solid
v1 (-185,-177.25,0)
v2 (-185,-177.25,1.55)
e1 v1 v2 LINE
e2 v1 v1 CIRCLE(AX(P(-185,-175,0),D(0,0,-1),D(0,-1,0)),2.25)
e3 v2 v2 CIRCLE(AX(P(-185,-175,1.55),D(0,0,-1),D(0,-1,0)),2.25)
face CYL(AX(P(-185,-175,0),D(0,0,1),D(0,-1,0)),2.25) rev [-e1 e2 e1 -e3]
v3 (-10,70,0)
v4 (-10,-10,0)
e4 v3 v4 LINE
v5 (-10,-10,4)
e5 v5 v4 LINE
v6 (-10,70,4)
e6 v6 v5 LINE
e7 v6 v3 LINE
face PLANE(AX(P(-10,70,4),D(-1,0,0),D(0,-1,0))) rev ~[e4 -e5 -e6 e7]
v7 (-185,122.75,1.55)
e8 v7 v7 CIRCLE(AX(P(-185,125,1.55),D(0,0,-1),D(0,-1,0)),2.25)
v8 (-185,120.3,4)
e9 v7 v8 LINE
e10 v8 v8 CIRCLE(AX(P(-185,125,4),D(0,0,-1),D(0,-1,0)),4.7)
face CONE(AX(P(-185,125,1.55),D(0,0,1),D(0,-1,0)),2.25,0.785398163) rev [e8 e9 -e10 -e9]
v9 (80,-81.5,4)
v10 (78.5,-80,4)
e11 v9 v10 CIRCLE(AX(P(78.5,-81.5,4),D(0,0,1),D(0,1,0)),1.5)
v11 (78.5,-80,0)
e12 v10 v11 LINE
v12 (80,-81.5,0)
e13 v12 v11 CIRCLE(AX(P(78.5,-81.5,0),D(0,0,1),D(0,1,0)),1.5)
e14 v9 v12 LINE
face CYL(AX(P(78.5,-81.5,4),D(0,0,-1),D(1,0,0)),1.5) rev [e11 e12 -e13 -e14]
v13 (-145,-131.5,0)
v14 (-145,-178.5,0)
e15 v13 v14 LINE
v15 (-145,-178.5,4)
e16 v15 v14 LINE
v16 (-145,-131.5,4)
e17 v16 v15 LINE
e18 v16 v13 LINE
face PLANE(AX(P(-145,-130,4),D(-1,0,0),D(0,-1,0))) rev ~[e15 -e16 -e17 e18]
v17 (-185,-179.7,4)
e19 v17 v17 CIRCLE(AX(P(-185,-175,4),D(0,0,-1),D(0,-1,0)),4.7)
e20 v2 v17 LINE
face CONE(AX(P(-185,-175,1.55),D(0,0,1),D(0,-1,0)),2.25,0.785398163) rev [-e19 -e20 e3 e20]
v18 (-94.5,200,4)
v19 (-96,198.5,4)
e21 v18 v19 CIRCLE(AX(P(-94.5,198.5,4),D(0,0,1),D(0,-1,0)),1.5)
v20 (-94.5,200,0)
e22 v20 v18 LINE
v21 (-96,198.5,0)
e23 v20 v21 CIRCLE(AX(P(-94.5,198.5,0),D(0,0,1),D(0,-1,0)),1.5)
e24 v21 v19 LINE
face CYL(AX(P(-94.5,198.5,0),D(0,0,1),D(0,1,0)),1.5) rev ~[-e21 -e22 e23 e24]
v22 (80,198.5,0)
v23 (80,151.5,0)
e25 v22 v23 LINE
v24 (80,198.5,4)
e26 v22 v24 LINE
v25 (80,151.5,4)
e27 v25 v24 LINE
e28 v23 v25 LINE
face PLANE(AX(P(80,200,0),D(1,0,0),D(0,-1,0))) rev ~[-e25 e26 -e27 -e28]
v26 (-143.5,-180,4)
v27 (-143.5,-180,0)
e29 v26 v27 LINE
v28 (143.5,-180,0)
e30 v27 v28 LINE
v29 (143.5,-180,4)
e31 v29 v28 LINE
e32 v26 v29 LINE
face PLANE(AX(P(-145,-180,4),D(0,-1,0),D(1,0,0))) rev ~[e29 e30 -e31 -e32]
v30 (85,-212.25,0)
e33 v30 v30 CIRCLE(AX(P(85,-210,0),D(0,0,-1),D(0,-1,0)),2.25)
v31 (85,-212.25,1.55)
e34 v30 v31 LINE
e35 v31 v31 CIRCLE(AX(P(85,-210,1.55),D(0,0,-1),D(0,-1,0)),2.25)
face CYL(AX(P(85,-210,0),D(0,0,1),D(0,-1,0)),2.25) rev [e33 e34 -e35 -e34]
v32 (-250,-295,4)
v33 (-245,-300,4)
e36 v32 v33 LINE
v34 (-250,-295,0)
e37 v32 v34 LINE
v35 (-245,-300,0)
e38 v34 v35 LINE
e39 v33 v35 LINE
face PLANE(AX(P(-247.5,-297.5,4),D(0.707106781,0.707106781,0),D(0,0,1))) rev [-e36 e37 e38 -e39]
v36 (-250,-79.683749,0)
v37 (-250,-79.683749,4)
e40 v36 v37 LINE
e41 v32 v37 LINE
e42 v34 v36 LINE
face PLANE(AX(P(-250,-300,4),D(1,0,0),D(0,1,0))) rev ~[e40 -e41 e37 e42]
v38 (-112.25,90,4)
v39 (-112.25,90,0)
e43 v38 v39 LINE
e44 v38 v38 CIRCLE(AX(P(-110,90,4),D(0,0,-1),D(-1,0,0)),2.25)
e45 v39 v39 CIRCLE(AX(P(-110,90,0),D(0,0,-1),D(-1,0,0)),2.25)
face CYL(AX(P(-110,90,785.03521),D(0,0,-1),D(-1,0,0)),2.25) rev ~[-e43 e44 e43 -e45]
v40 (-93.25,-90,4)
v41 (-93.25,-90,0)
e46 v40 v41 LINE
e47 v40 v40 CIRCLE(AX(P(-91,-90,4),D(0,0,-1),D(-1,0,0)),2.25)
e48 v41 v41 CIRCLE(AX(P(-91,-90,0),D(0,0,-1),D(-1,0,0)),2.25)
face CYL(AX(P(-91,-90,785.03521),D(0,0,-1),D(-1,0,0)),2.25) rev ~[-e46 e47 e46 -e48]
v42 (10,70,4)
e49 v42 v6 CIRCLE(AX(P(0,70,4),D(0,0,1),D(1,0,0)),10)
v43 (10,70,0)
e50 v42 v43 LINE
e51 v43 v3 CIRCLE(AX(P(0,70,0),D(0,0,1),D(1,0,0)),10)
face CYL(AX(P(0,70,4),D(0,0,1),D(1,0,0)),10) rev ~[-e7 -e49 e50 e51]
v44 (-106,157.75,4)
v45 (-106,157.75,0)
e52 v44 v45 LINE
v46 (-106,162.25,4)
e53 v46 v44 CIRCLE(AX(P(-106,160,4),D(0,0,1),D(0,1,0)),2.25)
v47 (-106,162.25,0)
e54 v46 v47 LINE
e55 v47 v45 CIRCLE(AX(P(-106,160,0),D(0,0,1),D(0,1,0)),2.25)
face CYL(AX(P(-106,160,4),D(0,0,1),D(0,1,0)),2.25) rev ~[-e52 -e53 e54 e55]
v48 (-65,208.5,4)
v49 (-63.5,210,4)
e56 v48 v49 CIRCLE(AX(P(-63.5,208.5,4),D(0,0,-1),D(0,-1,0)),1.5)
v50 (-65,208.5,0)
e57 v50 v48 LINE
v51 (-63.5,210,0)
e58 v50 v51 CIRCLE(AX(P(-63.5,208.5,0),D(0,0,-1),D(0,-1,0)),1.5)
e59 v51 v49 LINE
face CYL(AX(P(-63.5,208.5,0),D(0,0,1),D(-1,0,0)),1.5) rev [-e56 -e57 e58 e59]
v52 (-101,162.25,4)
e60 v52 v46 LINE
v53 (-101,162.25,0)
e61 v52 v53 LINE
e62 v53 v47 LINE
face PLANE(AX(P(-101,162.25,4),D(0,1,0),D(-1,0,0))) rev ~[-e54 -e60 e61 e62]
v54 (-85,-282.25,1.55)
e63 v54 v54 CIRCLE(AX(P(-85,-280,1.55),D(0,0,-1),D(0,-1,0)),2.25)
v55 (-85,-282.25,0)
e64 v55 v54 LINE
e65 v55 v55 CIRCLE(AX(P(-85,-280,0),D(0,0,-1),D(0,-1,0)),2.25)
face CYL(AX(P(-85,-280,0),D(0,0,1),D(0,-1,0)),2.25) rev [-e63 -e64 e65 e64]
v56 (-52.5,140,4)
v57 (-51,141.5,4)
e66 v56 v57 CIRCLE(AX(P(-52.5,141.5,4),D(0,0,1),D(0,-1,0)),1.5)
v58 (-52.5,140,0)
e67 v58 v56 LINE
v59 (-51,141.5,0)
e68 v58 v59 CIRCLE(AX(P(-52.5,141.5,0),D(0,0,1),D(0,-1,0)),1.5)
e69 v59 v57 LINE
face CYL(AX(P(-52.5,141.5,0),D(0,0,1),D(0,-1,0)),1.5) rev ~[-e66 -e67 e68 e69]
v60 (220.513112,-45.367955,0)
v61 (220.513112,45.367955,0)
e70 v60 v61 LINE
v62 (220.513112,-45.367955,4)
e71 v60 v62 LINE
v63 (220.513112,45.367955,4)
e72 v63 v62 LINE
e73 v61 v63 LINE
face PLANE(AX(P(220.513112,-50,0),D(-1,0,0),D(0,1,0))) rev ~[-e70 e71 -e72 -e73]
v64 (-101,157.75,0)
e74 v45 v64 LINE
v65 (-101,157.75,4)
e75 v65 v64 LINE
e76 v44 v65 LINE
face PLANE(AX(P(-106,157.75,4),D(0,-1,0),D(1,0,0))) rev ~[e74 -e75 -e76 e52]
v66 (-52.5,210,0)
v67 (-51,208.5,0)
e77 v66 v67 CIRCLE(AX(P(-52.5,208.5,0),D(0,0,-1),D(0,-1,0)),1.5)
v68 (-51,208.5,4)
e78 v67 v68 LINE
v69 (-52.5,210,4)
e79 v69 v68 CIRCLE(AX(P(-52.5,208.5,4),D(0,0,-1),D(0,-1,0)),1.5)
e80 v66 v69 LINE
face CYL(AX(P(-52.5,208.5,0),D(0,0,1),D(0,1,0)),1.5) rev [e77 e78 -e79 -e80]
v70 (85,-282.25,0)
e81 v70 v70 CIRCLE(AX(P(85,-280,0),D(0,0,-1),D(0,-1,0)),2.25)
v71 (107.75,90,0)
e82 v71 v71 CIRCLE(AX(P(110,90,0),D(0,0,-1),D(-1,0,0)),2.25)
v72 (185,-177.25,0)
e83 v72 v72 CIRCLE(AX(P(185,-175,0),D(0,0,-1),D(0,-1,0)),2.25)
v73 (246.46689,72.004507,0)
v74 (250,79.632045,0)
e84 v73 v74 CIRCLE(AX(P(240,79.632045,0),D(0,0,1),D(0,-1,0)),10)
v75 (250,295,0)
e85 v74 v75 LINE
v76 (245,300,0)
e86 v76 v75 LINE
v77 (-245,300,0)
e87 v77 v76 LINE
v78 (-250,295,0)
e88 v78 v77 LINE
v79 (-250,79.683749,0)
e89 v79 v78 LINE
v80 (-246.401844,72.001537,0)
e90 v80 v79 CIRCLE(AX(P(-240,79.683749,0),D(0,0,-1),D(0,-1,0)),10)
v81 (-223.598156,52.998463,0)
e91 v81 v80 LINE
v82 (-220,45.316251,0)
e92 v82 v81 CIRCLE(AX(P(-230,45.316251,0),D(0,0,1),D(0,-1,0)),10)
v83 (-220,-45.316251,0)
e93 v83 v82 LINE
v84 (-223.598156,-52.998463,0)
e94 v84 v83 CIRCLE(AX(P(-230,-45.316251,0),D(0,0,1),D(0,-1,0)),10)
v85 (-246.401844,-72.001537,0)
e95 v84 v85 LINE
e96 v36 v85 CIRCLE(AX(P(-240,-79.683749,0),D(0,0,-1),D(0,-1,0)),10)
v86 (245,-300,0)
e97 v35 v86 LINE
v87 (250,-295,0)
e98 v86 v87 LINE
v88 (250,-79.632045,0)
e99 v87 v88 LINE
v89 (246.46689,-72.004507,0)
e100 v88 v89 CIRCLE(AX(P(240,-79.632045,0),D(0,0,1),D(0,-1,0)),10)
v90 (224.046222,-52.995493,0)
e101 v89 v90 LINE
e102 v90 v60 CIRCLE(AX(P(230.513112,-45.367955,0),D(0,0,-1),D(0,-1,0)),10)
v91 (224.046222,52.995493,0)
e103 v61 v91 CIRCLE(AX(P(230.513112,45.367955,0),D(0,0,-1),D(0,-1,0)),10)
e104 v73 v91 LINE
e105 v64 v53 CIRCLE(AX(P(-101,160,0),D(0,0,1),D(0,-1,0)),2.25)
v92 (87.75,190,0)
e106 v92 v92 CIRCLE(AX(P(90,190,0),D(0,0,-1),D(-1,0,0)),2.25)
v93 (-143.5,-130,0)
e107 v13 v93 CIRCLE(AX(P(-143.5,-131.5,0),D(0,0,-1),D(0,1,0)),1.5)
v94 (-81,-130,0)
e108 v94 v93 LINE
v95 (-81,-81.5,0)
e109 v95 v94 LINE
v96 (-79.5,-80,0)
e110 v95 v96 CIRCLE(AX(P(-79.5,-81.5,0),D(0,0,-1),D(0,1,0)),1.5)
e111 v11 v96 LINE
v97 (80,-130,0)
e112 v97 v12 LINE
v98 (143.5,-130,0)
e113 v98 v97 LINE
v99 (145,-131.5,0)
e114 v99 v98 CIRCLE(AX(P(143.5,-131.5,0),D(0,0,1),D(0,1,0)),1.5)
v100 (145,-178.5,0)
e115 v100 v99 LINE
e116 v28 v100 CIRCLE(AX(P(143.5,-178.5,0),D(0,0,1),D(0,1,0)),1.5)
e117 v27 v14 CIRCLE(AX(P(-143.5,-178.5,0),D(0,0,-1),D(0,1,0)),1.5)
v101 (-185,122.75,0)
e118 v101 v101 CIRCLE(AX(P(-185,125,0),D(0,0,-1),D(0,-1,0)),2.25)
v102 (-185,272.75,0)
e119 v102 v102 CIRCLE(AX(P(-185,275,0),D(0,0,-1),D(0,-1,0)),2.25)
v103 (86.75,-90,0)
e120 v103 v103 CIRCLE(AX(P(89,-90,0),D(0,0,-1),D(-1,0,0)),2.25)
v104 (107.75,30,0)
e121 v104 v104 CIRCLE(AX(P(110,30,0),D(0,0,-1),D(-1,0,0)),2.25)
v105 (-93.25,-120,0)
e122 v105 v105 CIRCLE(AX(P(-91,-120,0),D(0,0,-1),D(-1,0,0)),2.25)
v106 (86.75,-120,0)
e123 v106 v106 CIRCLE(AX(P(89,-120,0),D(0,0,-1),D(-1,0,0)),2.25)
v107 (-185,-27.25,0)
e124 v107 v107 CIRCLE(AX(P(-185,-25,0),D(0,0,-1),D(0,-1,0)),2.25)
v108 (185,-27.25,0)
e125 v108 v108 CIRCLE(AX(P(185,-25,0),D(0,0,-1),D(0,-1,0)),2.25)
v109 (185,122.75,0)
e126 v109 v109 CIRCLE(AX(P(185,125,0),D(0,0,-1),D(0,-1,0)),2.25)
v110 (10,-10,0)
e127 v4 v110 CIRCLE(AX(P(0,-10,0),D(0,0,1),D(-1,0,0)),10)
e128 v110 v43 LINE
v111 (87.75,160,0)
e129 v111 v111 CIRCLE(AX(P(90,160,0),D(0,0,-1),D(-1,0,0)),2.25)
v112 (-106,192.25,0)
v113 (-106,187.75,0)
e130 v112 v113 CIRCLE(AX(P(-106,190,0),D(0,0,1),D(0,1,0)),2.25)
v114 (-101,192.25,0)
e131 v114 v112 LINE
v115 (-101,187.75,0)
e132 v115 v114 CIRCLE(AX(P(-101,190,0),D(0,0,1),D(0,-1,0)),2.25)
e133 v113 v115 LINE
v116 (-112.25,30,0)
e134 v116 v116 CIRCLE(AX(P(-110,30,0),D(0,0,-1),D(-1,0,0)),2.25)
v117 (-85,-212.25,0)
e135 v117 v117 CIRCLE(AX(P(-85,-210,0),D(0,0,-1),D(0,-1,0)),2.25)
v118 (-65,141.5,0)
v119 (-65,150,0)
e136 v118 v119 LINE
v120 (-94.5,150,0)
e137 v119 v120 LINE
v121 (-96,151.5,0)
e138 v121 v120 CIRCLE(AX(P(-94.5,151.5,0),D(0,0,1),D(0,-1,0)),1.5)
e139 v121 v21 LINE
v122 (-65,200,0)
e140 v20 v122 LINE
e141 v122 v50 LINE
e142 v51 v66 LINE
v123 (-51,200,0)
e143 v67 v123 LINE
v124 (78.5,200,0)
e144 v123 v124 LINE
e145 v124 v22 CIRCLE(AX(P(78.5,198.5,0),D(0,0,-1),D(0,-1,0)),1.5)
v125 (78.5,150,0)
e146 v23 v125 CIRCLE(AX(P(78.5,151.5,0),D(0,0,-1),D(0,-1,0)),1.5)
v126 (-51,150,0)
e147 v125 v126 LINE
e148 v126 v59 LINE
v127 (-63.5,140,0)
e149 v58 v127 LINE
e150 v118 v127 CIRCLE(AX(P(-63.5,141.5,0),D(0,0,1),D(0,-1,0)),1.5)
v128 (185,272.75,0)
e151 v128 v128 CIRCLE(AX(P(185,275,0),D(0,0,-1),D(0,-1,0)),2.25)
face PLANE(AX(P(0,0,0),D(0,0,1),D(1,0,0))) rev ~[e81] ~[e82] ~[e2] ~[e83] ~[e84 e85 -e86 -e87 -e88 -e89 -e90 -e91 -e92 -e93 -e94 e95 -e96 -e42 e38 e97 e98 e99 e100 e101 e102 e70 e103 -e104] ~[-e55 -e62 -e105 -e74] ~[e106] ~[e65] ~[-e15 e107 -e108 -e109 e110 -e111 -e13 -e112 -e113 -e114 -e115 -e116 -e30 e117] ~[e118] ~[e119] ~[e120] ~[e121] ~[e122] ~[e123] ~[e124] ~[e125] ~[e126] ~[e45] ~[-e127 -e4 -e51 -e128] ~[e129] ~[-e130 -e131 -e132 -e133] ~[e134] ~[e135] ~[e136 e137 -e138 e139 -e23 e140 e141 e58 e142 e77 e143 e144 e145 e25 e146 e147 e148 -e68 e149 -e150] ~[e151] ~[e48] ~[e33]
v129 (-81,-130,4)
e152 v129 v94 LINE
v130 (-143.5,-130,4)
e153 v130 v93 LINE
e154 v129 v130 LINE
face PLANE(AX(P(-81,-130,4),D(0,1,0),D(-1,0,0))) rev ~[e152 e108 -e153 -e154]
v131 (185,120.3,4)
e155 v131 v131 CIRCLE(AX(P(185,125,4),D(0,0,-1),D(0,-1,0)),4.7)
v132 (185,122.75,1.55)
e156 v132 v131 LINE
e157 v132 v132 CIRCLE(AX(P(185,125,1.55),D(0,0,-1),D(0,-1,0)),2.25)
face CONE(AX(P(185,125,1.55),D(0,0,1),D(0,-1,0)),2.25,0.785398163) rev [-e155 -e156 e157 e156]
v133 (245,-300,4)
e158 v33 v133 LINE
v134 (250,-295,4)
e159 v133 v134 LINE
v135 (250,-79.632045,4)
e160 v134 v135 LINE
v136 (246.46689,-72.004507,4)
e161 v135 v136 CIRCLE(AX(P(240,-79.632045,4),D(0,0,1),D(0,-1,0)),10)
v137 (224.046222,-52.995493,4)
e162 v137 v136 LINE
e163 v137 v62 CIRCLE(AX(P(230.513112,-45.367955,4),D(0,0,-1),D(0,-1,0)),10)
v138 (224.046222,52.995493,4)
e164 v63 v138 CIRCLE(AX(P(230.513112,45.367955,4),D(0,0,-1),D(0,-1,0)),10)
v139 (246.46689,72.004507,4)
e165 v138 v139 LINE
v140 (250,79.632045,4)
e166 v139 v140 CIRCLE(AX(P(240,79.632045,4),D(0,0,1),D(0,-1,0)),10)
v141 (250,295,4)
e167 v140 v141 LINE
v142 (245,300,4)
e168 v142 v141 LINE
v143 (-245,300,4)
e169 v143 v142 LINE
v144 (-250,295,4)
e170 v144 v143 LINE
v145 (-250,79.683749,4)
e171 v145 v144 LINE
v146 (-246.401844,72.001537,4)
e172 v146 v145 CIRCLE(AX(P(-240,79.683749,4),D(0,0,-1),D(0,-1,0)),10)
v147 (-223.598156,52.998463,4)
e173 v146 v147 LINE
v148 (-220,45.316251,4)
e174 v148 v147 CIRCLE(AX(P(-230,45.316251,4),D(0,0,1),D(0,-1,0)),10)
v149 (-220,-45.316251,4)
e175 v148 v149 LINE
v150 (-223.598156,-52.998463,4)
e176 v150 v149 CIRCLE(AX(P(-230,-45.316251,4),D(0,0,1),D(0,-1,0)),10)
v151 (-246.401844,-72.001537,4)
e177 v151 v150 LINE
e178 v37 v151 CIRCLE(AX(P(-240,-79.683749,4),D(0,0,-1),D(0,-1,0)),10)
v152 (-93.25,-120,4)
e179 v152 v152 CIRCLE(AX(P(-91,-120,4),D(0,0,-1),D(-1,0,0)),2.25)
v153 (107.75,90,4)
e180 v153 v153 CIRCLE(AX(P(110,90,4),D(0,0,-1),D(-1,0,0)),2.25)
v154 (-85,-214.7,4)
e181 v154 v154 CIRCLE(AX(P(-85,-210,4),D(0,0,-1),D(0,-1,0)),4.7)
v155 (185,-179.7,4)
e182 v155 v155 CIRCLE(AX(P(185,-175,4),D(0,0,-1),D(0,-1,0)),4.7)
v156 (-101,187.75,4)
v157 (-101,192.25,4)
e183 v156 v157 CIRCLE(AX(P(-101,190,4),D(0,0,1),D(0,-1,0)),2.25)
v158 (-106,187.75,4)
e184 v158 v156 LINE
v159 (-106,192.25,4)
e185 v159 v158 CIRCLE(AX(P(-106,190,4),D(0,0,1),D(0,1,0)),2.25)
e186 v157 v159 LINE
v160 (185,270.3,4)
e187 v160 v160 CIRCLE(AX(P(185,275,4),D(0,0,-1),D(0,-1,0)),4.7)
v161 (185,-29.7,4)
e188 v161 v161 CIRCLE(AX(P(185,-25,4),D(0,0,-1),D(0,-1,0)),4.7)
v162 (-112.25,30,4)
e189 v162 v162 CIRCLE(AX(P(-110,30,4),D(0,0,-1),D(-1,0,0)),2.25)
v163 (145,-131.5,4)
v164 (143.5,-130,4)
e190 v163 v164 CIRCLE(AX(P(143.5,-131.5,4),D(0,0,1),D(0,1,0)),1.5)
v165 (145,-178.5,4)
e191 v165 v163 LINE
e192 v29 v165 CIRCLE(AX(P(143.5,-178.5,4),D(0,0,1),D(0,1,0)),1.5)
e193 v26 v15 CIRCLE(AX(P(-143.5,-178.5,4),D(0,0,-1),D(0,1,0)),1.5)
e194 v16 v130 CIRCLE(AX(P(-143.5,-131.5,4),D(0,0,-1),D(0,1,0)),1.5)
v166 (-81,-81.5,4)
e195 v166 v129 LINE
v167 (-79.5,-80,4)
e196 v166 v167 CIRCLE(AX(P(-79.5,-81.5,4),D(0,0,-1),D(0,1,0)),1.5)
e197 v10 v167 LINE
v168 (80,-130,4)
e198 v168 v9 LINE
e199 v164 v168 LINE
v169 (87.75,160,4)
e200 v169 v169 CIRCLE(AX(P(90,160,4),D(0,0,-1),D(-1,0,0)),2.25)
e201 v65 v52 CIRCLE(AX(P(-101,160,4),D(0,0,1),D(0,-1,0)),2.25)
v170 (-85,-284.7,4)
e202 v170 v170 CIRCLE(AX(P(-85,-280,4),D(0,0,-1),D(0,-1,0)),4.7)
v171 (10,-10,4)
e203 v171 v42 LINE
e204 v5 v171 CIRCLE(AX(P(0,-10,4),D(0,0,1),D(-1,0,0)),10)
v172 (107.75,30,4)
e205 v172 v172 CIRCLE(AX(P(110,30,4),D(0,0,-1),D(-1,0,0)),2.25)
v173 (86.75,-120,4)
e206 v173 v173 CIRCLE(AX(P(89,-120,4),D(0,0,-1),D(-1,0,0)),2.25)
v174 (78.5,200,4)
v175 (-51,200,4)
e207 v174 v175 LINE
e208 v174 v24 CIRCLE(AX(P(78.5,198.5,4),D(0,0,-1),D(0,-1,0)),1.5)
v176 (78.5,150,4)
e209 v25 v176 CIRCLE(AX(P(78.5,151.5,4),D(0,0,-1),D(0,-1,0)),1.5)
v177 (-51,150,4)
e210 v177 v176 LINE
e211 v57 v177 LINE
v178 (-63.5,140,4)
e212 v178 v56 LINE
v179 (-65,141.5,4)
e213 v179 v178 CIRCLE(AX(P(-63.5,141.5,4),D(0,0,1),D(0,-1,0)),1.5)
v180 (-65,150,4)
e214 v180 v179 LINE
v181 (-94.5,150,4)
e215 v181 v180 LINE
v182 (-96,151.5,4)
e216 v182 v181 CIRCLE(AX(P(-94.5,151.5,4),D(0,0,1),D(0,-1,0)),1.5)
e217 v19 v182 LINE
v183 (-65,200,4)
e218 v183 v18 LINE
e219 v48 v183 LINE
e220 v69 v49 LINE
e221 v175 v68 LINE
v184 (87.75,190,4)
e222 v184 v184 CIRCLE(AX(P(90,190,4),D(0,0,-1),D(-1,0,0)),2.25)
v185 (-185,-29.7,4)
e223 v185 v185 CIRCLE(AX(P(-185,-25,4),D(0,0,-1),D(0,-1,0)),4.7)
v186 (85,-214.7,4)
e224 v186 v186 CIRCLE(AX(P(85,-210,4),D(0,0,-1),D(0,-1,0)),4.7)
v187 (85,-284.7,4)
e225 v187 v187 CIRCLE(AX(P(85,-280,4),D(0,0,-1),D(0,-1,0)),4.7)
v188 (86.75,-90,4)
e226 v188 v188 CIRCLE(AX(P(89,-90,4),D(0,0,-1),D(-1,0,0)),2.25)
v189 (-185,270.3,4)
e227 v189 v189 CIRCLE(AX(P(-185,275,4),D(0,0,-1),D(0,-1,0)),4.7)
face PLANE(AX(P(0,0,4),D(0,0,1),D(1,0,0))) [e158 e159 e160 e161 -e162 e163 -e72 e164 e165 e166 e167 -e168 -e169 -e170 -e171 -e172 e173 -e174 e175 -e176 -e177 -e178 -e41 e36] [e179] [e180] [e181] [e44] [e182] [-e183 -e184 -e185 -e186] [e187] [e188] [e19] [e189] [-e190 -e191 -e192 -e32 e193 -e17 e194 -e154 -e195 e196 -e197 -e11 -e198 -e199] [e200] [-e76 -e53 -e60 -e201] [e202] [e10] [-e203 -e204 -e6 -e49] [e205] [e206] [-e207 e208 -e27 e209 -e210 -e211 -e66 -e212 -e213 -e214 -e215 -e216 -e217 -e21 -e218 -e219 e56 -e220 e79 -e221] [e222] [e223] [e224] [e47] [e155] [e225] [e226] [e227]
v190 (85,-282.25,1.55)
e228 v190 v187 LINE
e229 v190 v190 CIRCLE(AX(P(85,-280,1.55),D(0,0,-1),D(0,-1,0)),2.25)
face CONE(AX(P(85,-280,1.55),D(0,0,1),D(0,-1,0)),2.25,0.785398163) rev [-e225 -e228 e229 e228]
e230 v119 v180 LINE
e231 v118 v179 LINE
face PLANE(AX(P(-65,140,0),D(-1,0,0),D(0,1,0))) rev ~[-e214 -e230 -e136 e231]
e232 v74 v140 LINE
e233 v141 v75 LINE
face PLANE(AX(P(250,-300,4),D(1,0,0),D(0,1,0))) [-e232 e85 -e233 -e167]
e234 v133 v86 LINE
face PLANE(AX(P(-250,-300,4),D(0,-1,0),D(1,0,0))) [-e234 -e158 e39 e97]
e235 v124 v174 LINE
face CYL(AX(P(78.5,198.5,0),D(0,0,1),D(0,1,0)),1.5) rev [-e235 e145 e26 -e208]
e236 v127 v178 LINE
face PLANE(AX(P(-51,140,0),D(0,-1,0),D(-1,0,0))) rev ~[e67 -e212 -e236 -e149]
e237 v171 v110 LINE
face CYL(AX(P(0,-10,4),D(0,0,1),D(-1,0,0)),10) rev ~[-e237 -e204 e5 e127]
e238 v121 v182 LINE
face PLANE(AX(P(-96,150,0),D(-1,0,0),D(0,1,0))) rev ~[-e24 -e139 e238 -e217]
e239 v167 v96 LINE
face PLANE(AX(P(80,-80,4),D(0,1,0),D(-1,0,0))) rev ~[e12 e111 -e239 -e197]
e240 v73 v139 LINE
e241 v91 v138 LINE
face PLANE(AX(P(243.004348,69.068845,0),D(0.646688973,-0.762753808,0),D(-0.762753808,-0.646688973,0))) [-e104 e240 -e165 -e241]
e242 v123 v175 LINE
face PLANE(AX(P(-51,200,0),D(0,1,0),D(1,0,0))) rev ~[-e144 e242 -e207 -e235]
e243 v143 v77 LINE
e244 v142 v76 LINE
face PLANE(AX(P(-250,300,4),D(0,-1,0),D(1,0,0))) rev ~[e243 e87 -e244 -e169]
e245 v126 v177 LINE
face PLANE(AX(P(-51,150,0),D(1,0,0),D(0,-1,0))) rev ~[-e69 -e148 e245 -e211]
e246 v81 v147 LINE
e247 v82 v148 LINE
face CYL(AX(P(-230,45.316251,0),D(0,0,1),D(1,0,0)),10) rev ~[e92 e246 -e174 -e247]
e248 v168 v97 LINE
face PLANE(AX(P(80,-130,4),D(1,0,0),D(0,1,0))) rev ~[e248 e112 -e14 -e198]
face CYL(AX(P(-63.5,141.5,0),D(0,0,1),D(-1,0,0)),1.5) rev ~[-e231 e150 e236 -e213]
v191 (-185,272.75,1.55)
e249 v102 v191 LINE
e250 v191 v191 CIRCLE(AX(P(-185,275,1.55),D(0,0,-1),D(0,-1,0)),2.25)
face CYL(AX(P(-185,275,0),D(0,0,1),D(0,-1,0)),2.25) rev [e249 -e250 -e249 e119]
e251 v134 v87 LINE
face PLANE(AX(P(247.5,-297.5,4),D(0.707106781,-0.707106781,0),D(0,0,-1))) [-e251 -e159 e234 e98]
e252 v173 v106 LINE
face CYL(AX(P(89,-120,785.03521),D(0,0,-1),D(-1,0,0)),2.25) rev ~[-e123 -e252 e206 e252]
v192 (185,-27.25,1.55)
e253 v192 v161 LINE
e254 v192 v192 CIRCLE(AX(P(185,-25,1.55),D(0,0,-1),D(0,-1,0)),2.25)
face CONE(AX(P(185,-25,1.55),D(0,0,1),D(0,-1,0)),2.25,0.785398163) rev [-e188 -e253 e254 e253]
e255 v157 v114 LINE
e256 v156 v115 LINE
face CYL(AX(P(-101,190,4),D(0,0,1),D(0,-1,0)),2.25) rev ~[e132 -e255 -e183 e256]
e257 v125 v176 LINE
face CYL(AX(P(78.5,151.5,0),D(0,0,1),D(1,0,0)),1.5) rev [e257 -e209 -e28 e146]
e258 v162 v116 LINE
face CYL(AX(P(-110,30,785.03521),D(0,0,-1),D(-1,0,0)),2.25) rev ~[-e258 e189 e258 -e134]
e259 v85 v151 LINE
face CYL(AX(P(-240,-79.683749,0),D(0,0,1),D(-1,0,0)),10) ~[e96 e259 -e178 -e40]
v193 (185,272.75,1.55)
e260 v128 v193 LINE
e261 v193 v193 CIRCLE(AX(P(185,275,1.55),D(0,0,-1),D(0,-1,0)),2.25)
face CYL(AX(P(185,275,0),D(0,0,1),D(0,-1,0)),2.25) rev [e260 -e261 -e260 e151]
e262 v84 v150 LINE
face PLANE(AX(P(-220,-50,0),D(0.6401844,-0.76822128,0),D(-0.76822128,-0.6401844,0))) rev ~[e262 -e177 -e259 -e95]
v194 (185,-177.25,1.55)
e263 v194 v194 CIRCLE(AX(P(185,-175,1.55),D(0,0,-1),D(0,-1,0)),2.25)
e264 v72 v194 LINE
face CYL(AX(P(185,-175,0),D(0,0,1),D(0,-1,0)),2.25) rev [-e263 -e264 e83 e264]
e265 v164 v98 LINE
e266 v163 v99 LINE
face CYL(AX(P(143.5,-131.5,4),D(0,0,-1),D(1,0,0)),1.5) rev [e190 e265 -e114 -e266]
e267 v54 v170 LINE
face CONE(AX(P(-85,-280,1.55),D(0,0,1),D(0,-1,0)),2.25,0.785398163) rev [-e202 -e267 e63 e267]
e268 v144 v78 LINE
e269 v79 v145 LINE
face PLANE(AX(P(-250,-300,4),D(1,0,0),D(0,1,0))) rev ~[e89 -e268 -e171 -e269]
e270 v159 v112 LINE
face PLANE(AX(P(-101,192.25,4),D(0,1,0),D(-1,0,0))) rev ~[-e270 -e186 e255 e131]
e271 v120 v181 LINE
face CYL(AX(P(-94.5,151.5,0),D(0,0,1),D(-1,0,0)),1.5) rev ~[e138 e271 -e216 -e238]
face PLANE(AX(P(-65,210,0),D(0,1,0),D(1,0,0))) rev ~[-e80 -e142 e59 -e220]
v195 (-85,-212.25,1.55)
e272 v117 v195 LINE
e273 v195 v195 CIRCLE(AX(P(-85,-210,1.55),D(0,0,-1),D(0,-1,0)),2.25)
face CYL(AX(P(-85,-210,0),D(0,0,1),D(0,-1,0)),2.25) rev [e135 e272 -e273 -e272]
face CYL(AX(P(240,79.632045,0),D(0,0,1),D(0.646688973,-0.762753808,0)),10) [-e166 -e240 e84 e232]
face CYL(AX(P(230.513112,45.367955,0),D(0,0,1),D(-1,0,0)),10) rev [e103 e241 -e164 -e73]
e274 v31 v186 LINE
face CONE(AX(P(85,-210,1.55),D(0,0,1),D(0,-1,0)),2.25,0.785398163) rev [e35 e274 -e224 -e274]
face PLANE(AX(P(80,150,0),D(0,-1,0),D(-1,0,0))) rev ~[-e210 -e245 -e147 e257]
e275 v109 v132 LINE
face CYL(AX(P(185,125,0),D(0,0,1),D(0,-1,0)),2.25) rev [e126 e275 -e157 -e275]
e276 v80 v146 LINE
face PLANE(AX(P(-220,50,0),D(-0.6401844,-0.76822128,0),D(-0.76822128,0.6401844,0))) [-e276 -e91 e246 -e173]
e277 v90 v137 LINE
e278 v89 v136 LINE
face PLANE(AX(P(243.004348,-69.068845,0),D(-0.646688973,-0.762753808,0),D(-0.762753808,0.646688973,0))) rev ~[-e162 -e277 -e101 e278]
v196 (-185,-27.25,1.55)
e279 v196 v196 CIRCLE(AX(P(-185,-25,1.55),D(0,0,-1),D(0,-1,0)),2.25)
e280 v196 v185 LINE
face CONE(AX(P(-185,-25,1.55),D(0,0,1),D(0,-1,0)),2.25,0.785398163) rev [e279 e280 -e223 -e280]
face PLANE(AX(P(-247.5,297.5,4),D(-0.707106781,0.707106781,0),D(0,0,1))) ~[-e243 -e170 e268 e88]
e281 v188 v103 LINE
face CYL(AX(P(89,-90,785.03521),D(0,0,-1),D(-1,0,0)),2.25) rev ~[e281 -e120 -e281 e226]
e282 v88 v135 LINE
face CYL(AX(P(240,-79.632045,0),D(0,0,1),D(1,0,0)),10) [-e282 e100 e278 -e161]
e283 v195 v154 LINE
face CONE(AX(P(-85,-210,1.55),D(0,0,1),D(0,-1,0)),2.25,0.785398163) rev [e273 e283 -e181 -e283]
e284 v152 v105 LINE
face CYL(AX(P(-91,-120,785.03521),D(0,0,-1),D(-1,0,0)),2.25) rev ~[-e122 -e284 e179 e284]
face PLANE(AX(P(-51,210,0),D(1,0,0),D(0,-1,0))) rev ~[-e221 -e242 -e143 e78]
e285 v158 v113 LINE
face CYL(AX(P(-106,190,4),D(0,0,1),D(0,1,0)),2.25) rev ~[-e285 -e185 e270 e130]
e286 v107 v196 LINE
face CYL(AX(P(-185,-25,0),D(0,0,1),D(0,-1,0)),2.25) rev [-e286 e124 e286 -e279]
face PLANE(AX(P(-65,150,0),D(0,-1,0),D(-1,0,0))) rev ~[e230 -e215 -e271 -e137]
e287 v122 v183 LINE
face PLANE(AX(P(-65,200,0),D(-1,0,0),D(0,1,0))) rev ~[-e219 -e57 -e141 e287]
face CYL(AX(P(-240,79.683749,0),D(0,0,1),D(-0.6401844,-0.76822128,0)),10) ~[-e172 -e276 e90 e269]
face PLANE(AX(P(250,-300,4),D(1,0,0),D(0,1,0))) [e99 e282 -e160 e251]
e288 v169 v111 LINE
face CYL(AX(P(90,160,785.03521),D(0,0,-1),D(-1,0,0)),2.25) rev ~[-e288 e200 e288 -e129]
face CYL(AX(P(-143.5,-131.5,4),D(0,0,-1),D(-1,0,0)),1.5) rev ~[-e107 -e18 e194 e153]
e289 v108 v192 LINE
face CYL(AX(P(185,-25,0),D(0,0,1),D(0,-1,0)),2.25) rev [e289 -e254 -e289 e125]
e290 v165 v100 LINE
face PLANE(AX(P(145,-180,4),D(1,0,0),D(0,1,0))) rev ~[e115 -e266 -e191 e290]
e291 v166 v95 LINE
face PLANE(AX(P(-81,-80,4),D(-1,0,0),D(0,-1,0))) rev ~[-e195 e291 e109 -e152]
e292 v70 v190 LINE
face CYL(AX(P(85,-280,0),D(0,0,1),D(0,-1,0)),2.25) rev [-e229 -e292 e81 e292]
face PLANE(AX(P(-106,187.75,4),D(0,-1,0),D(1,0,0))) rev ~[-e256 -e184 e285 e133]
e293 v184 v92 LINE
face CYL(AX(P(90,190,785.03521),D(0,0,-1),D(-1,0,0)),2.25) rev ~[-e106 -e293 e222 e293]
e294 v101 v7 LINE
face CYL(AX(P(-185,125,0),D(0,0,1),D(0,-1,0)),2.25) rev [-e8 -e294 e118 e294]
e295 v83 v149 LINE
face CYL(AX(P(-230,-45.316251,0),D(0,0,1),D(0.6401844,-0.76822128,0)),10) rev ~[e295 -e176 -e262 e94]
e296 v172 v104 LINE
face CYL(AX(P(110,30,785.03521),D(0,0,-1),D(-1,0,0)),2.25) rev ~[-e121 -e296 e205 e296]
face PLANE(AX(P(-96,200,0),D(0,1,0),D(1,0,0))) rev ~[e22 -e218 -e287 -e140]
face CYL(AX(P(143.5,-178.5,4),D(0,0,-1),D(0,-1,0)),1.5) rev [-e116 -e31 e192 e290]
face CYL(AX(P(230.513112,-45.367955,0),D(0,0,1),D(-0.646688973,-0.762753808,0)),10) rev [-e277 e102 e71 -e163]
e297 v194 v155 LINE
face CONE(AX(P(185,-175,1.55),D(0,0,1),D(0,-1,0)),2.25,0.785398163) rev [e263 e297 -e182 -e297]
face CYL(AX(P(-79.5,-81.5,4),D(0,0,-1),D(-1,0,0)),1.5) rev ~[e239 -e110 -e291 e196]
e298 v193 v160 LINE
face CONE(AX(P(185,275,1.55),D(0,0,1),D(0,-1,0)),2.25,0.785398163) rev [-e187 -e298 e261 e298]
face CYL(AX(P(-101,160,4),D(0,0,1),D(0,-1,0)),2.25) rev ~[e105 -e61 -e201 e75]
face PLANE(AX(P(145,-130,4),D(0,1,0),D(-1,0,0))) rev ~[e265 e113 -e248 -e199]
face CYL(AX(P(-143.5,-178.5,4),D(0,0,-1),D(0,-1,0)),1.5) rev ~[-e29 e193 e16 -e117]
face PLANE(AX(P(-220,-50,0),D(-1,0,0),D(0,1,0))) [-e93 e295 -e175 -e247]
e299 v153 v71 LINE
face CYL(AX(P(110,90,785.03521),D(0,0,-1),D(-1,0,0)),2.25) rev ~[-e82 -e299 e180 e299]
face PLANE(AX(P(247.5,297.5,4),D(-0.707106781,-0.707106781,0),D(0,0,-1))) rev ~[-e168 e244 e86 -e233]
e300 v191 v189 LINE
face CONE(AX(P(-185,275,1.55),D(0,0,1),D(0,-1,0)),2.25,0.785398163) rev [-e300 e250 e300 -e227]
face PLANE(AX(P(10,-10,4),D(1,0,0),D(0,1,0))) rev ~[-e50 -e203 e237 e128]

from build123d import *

# Parameters (mm, degrees)
SCHIZZO1_W                             = 500
SCHIZZO1_H                             = 600
ESTRUSIONE_ESTRUSIONE1_DEPTH           = 4
SCHIZZO2_W                             = 30
SCHIZZO2_H                             = 100
TAGLIO_ESTRUSIONE1_DEPTH               = 391.532969159
SCHIZZO3_W                             = 29.486887837
SCHIZZO3_H                             = 100
TAGLIO_ESTRUSIONE2_DEPTH               = 391.532969159
TAGLIO_ESTRUSIONE3_DEPTH               = 391.532969159
TAGLIO_ESTRUSIONE4_DEPTH               = 391.532969159
TAGLIO_ESTRUSIONE5_DEPTH               = 391.532969159
TAGLIO_ESTRUSIONE6_DEPTH               = 391.532969159
TAGLIO_ESTRUSIONE7_DEPTH               = 391.532969159
SFORMO1_ANGLE                          = 40.292427289
SFORMO2_ANGLE                          = 39.805571092
FORO_4_5_4_5_1_D                       = 4.5
FORO_SVASATO_PER_VITE_M4_1_AT_2_COUNT  = 2
FORO_SVASATO_PER_VITE_M4_1_AT_2_PITCH  = 150
FORO_SVASATO_PER_VITE_M4_1_AT_3_COUNT  = 2
FORO_SVASATO_PER_VITE_M4_1_AT_3_PITCH  = 300
FORO_SVASATO_PER_VITE_M4_1_AT_4_COUNT  = 2
FORO_SVASATO_PER_VITE_M4_1_AT_4_PITCH  = 450
FORO_SVASATO_PER_VITE_M4_1_AT_5_COUNT  = 2
FORO_SVASATO_PER_VITE_M4_1_AT_5_PITCH  = 370
FORO_SVASATO_PER_VITE_M4_1_AT_6_COUNT  = 2
FORO_SVASATO_PER_VITE_M4_1_AT_6_PITCH  = 399.249295554
FORO_SVASATO_PER_VITE_M4_1_AT_7_COUNT  = 2
FORO_SVASATO_PER_VITE_M4_1_AT_7_PITCH  = 476.340214553
FORO_SVASATO_PER_VITE_M4_1_AT_8_COUNT  = 2
FORO_SVASATO_PER_VITE_M4_1_AT_8_PITCH  = 582.580466545
FORO_SVASATO_PER_VITE_M4_1_AT_9_COUNT  = 2
FORO_SVASATO_PER_VITE_M4_1_AT_9_PITCH  = 105.948100502
FORO_SVASATO_PER_VITE_M4_1_AT_10_COUNT = 2
FORO_SVASATO_PER_VITE_M4_1_AT_10_PITCH = 272.259067801
FORO_SVASATO_PER_VITE_M4_1_AT_11_COUNT = 2
FORO_SVASATO_PER_VITE_M4_1_AT_11_PITCH = 289.698118737
FORO_SVASATO_PER_VITE_M4_1_AT_12_COUNT = 2
FORO_SVASATO_PER_VITE_M4_1_AT_12_PITCH = 145
SMUSSO1_SIZE                           = 5
RACCORDO1_R                            = 1.5
RACCORDO2_R                            = 10


with BuildPart() as part:
    # Schizzo1 → Estrusione-Estrusione1 (new body)
    with BuildSketch(Plane.XY.offset(4)):
        Rectangle(SCHIZZO1_W, SCHIZZO1_H)
    extrude(amount=-ESTRUSIONE_ESTRUSIONE1_DEPTH)

    # Schizzo2 → Taglio-Estrusione1 (cut, through all)
    with BuildSketch(Plane(origin=(0, 0, 0), x_dir=(-1, 0, 0), z_dir=(0, 0, -1))):
        with Locations((235, 0)):
            Rectangle(SCHIZZO2_W, SCHIZZO2_H)
    extrude(amount=-TAGLIO_ESTRUSIONE1_DEPTH, mode=Mode.SUBTRACT)

    # Schizzo3 → Taglio-Estrusione2 (cut, through all)
    with BuildSketch(Plane(origin=(0, 0, 0), x_dir=(-1, 0, 0), z_dir=(0, 0, -1))):
        with Locations((-235.256556082, 0)):
            Rectangle(SCHIZZO3_W, SCHIZZO3_H)
    extrude(amount=-TAGLIO_ESTRUSIONE2_DEPTH, mode=Mode.SUBTRACT)

    # Schizzo4 → Taglio-Estrusione3 (cut, through all)
    with BuildSketch(Plane.XY.offset(4)):
        Polygon((-145, -180), (145, -180), (145, -130), (80, -130), (80, -80), (-81, -80), (-81, -130), (-145, -130), align=None)
    extrude(amount=-TAGLIO_ESTRUSIONE3_DEPTH, mode=Mode.SUBTRACT)

    # Schizzo5 → Taglio-Estrusione4 (cut, through all)
    with BuildSketch(Plane.XY.offset(4)):
        with BuildLine():
            Line((10, -10), (10, 70))
            ThreePointArc((10, 70), (0, 80), (-10, 70))
            Line((-10, 70), (-10, -10))
            ThreePointArc((-10, -10), (0, -20), (10, -10))
        make_face()
    extrude(amount=-TAGLIO_ESTRUSIONE4_DEPTH, mode=Mode.SUBTRACT)

    # Schizzo6 → Taglio-Estrusione5 (cut, through all)
    with BuildSketch(Plane.XY.offset(4)):
        with BuildLine():
            Line((-101, 162.25), (-106, 162.25))
            ThreePointArc((-106, 162.25), (-108.25, 160), (-106, 157.75))
            Line((-106, 157.75), (-101, 157.75))
            ThreePointArc((-101, 157.75), (-98.75, 160), (-101, 162.25))
        make_face()
    extrude(amount=-TAGLIO_ESTRUSIONE5_DEPTH, mode=Mode.SUBTRACT)

    # Schizzo7 → Taglio-Estrusione6 (cut, through all)
    with BuildSketch(Plane.XY.offset(4)):
        with BuildLine():
            Line((-101, 192.25), (-106, 192.25))
            ThreePointArc((-106, 192.25), (-108.25, 190), (-106, 187.75))
            Line((-106, 187.75), (-101, 187.75))
            ThreePointArc((-101, 187.75), (-98.75, 190), (-101, 192.25))
        make_face()
    extrude(amount=-TAGLIO_ESTRUSIONE6_DEPTH, mode=Mode.SUBTRACT)

    # Schizzo8 → Taglio-Estrusione7 (cut, through all)
    with BuildSketch(Plane(origin=(0, 0, 0), x_dir=(-1, 0, 0), z_dir=(0, 0, -1))):
        Polygon((65, 200), (65, 210), (51, 210), (51, 200), (-80, 200), (-80, 150), (51, 150), (51, 140), (65, 140), (65, 150), (96, 150), (96, 200), align=None)
    extrude(amount=-TAGLIO_ESTRUSIONE7_DEPTH, mode=Mode.SUBTRACT)

    # Sformo1
    sformo1_faces = [part.faces().sort_by_distance(p)[0] for p in [
        (235.256556082, 50, 2),
        (235.256556082, -50, 2),
    ]]
    draft(sformo1_faces, Plane(origin=(220.513112163, -50, 4), x_dir=(0, 0, 1), z_dir=(1, 0, 0)), SFORMO1_ANGLE)

    # Sformo2
    sformo2_faces = [part.faces().sort_by_distance(p)[0] for p in [
        (-235, -50, 2),
        (-235, 50, 2),
    ]]
    draft(sformo2_faces, Plane(origin=(-220, 50, 4), x_dir=(0, -1, 0), z_dir=(-1, 0, 0)), SFORMO2_ANGLE)

    # Foro Ø4.5 (4.5)-1 (through all)
    with Locations(Plane.XY.offset(4)):
        with Locations((110, 90), (-110, 90), (110, 30), (-110, 30), (-91, -120), (-91, -90), (89, -120), (89, -90), (90, 190), (90, 160)):
            Hole(FORO_4_5_4_5_1_D / 2)

    # Schizzo11 → Foro svasato per Vite M4-1 (revolve, cut)
    with BuildSketch(Plane(origin=(-185, -175, 4), x_dir=(0, -1, 0), z_dir=(1, 0, 0))):
        Polygon((0, 0), (0, 4), (2.25, 4), (2.25, 2.45), (4.7, 0), align=None)
    foro_svasato_per_vite_m4_1 = revolve(axis=Axis((-185, -175, 10.35), (0, 0, -1)), mode=Mode.SUBTRACT)

    # Foro svasato per Vite M4-1 at 2: Foro svasato per Vite M4-1 ×2
    with Locations(*[(0, i * FORO_SVASATO_PER_VITE_M4_1_AT_2_PITCH, 0) for i in range(1, FORO_SVASATO_PER_VITE_M4_1_AT_2_COUNT)]):
        add(foro_svasato_per_vite_m4_1, mode=Mode.SUBTRACT)

    # Foro svasato per Vite M4-1 at 3: Foro svasato per Vite M4-1 ×2
    with Locations(*[(0, i * FORO_SVASATO_PER_VITE_M4_1_AT_3_PITCH, 0) for i in range(1, FORO_SVASATO_PER_VITE_M4_1_AT_3_COUNT)]):
        add(foro_svasato_per_vite_m4_1, mode=Mode.SUBTRACT)

    # Foro svasato per Vite M4-1 at 4: Foro svasato per Vite M4-1 ×2
    with Locations(*[(0, i * FORO_SVASATO_PER_VITE_M4_1_AT_4_PITCH, 0) for i in range(1, FORO_SVASATO_PER_VITE_M4_1_AT_4_COUNT)]):
        add(foro_svasato_per_vite_m4_1, mode=Mode.SUBTRACT)

    # Foro svasato per Vite M4-1 at 5: Foro svasato per Vite M4-1 ×2
    with Locations(*[(i * FORO_SVASATO_PER_VITE_M4_1_AT_5_PITCH, 0, 0) for i in range(1, FORO_SVASATO_PER_VITE_M4_1_AT_5_COUNT)]):
        add(foro_svasato_per_vite_m4_1, mode=Mode.SUBTRACT)

    # Foro svasato per Vite M4-1 at 6: Foro svasato per Vite M4-1 ×2
    with Locations(*[Vector(0.9267392682234048, 0.37570510873921886, 0) * (i * FORO_SVASATO_PER_VITE_M4_1_AT_6_PITCH) for i in range(1, FORO_SVASATO_PER_VITE_M4_1_AT_6_COUNT)]):
        add(foro_svasato_per_vite_m4_1, mode=Mode.SUBTRACT)

    # Foro svasato per Vite M4-1 at 7: Foro svasato per Vite M4-1 ×2
    with Locations(*[Vector(0.7767557487195029, 0.6298019584212203, 0) * (i * FORO_SVASATO_PER_VITE_M4_1_AT_7_PITCH) for i in range(1, FORO_SVASATO_PER_VITE_M4_1_AT_7_COUNT)]):
        add(foro_svasato_per_vite_m4_1, mode=Mode.SUBTRACT)

    # Foro svasato per Vite M4-1 at 8: Foro svasato per Vite M4-1 ×2
    with Locations(*[Vector(0.6351053995925638, 0.7724254859909594, 0) * (i * FORO_SVASATO_PER_VITE_M4_1_AT_8_PITCH) for i in range(1, FORO_SVASATO_PER_VITE_M4_1_AT_8_COUNT)]):
        add(foro_svasato_per_vite_m4_1, mode=Mode.SUBTRACT)

    # Foro svasato per Vite M4-1 at 9: Foro svasato per Vite M4-1 ×2
    with Locations(*[Vector(0.9438583563660176, -0.33035042472810594, 0) * (i * FORO_SVASATO_PER_VITE_M4_1_AT_9_PITCH) for i in range(1, FORO_SVASATO_PER_VITE_M4_1_AT_9_COUNT)]):
        add(foro_svasato_per_vite_m4_1, mode=Mode.SUBTRACT)

    # Foro svasato per Vite M4-1 at 10: Foro svasato per Vite M4-1 ×2
    with Locations(*[Vector(0.9917025066621883, -0.12855402864139467, 0) * (i * FORO_SVASATO_PER_VITE_M4_1_AT_10_PITCH) for i in range(1, FORO_SVASATO_PER_VITE_M4_1_AT_10_COUNT)]):
        add(foro_svasato_per_vite_m4_1, mode=Mode.SUBTRACT)

    # Foro svasato per Vite M4-1 at 11: Foro svasato per Vite M4-1 ×2
    with Locations(*[Vector(0.9320046715412964, -0.36244626115494755, 0) * (i * FORO_SVASATO_PER_VITE_M4_1_AT_11_PITCH) for i in range(1, FORO_SVASATO_PER_VITE_M4_1_AT_11_COUNT)]):
        add(foro_svasato_per_vite_m4_1, mode=Mode.SUBTRACT)

    # Foro svasato per Vite M4-1 at 12: Foro svasato per Vite M4-1 ×2
    with Locations(*[Vector(0.6896551724137958, -0.7241379310344802, 0) * (i * FORO_SVASATO_PER_VITE_M4_1_AT_12_PITCH) for i in range(1, FORO_SVASATO_PER_VITE_M4_1_AT_12_COUNT)]):
        add(foro_svasato_per_vite_m4_1, mode=Mode.SUBTRACT)

    # Smusso1
    smusso1_edges = [part.edges().sort_by_distance(p)[0] for p in [
        (250, -300, 2),
        (-250, -300, 2),
        (-250, 300, 2),
        (250, 300, 2),
    ]]
    chamfer(smusso1_edges, length=SMUSSO1_SIZE)

    # Raccordo1
    raccordo1_edges = [part.edges().sort_by_distance(p)[0] for p in [
        (-96, 200, 2),
        (-96, 150, 2),
        (-65, 140, 2),
        (-51, 140, 2),
        (80, 150, 2),
        (80, 200, 2),
        (-51, 210, 2),
        (-65, 210, 2),
        (-145, -180, 2),
        (-145, -130, 2),
        (-81, -80, 2),
        (80, -80, 2),
        (145, -130, 2),
        (145, -180, 2),
    ]]
    fillet(raccordo1_edges, radius=RACCORDO1_R)

    # Raccordo2
    raccordo2_edges = [part.edges().sort_by_distance(p)[0] for p in [
        (-250, -75, 2),
        (-220, -50, 2),
        (-220, 50, 2),
        (-250, 75, 2),
        (250, 75, 2),
        (220.513112163, 50, 2),
        (220.513112163, -50, 2),
        (250, -75, 2),
    ]]
    fillet(raccordo2_edges, radius=RACCORDO2_R)


solid = part.part
